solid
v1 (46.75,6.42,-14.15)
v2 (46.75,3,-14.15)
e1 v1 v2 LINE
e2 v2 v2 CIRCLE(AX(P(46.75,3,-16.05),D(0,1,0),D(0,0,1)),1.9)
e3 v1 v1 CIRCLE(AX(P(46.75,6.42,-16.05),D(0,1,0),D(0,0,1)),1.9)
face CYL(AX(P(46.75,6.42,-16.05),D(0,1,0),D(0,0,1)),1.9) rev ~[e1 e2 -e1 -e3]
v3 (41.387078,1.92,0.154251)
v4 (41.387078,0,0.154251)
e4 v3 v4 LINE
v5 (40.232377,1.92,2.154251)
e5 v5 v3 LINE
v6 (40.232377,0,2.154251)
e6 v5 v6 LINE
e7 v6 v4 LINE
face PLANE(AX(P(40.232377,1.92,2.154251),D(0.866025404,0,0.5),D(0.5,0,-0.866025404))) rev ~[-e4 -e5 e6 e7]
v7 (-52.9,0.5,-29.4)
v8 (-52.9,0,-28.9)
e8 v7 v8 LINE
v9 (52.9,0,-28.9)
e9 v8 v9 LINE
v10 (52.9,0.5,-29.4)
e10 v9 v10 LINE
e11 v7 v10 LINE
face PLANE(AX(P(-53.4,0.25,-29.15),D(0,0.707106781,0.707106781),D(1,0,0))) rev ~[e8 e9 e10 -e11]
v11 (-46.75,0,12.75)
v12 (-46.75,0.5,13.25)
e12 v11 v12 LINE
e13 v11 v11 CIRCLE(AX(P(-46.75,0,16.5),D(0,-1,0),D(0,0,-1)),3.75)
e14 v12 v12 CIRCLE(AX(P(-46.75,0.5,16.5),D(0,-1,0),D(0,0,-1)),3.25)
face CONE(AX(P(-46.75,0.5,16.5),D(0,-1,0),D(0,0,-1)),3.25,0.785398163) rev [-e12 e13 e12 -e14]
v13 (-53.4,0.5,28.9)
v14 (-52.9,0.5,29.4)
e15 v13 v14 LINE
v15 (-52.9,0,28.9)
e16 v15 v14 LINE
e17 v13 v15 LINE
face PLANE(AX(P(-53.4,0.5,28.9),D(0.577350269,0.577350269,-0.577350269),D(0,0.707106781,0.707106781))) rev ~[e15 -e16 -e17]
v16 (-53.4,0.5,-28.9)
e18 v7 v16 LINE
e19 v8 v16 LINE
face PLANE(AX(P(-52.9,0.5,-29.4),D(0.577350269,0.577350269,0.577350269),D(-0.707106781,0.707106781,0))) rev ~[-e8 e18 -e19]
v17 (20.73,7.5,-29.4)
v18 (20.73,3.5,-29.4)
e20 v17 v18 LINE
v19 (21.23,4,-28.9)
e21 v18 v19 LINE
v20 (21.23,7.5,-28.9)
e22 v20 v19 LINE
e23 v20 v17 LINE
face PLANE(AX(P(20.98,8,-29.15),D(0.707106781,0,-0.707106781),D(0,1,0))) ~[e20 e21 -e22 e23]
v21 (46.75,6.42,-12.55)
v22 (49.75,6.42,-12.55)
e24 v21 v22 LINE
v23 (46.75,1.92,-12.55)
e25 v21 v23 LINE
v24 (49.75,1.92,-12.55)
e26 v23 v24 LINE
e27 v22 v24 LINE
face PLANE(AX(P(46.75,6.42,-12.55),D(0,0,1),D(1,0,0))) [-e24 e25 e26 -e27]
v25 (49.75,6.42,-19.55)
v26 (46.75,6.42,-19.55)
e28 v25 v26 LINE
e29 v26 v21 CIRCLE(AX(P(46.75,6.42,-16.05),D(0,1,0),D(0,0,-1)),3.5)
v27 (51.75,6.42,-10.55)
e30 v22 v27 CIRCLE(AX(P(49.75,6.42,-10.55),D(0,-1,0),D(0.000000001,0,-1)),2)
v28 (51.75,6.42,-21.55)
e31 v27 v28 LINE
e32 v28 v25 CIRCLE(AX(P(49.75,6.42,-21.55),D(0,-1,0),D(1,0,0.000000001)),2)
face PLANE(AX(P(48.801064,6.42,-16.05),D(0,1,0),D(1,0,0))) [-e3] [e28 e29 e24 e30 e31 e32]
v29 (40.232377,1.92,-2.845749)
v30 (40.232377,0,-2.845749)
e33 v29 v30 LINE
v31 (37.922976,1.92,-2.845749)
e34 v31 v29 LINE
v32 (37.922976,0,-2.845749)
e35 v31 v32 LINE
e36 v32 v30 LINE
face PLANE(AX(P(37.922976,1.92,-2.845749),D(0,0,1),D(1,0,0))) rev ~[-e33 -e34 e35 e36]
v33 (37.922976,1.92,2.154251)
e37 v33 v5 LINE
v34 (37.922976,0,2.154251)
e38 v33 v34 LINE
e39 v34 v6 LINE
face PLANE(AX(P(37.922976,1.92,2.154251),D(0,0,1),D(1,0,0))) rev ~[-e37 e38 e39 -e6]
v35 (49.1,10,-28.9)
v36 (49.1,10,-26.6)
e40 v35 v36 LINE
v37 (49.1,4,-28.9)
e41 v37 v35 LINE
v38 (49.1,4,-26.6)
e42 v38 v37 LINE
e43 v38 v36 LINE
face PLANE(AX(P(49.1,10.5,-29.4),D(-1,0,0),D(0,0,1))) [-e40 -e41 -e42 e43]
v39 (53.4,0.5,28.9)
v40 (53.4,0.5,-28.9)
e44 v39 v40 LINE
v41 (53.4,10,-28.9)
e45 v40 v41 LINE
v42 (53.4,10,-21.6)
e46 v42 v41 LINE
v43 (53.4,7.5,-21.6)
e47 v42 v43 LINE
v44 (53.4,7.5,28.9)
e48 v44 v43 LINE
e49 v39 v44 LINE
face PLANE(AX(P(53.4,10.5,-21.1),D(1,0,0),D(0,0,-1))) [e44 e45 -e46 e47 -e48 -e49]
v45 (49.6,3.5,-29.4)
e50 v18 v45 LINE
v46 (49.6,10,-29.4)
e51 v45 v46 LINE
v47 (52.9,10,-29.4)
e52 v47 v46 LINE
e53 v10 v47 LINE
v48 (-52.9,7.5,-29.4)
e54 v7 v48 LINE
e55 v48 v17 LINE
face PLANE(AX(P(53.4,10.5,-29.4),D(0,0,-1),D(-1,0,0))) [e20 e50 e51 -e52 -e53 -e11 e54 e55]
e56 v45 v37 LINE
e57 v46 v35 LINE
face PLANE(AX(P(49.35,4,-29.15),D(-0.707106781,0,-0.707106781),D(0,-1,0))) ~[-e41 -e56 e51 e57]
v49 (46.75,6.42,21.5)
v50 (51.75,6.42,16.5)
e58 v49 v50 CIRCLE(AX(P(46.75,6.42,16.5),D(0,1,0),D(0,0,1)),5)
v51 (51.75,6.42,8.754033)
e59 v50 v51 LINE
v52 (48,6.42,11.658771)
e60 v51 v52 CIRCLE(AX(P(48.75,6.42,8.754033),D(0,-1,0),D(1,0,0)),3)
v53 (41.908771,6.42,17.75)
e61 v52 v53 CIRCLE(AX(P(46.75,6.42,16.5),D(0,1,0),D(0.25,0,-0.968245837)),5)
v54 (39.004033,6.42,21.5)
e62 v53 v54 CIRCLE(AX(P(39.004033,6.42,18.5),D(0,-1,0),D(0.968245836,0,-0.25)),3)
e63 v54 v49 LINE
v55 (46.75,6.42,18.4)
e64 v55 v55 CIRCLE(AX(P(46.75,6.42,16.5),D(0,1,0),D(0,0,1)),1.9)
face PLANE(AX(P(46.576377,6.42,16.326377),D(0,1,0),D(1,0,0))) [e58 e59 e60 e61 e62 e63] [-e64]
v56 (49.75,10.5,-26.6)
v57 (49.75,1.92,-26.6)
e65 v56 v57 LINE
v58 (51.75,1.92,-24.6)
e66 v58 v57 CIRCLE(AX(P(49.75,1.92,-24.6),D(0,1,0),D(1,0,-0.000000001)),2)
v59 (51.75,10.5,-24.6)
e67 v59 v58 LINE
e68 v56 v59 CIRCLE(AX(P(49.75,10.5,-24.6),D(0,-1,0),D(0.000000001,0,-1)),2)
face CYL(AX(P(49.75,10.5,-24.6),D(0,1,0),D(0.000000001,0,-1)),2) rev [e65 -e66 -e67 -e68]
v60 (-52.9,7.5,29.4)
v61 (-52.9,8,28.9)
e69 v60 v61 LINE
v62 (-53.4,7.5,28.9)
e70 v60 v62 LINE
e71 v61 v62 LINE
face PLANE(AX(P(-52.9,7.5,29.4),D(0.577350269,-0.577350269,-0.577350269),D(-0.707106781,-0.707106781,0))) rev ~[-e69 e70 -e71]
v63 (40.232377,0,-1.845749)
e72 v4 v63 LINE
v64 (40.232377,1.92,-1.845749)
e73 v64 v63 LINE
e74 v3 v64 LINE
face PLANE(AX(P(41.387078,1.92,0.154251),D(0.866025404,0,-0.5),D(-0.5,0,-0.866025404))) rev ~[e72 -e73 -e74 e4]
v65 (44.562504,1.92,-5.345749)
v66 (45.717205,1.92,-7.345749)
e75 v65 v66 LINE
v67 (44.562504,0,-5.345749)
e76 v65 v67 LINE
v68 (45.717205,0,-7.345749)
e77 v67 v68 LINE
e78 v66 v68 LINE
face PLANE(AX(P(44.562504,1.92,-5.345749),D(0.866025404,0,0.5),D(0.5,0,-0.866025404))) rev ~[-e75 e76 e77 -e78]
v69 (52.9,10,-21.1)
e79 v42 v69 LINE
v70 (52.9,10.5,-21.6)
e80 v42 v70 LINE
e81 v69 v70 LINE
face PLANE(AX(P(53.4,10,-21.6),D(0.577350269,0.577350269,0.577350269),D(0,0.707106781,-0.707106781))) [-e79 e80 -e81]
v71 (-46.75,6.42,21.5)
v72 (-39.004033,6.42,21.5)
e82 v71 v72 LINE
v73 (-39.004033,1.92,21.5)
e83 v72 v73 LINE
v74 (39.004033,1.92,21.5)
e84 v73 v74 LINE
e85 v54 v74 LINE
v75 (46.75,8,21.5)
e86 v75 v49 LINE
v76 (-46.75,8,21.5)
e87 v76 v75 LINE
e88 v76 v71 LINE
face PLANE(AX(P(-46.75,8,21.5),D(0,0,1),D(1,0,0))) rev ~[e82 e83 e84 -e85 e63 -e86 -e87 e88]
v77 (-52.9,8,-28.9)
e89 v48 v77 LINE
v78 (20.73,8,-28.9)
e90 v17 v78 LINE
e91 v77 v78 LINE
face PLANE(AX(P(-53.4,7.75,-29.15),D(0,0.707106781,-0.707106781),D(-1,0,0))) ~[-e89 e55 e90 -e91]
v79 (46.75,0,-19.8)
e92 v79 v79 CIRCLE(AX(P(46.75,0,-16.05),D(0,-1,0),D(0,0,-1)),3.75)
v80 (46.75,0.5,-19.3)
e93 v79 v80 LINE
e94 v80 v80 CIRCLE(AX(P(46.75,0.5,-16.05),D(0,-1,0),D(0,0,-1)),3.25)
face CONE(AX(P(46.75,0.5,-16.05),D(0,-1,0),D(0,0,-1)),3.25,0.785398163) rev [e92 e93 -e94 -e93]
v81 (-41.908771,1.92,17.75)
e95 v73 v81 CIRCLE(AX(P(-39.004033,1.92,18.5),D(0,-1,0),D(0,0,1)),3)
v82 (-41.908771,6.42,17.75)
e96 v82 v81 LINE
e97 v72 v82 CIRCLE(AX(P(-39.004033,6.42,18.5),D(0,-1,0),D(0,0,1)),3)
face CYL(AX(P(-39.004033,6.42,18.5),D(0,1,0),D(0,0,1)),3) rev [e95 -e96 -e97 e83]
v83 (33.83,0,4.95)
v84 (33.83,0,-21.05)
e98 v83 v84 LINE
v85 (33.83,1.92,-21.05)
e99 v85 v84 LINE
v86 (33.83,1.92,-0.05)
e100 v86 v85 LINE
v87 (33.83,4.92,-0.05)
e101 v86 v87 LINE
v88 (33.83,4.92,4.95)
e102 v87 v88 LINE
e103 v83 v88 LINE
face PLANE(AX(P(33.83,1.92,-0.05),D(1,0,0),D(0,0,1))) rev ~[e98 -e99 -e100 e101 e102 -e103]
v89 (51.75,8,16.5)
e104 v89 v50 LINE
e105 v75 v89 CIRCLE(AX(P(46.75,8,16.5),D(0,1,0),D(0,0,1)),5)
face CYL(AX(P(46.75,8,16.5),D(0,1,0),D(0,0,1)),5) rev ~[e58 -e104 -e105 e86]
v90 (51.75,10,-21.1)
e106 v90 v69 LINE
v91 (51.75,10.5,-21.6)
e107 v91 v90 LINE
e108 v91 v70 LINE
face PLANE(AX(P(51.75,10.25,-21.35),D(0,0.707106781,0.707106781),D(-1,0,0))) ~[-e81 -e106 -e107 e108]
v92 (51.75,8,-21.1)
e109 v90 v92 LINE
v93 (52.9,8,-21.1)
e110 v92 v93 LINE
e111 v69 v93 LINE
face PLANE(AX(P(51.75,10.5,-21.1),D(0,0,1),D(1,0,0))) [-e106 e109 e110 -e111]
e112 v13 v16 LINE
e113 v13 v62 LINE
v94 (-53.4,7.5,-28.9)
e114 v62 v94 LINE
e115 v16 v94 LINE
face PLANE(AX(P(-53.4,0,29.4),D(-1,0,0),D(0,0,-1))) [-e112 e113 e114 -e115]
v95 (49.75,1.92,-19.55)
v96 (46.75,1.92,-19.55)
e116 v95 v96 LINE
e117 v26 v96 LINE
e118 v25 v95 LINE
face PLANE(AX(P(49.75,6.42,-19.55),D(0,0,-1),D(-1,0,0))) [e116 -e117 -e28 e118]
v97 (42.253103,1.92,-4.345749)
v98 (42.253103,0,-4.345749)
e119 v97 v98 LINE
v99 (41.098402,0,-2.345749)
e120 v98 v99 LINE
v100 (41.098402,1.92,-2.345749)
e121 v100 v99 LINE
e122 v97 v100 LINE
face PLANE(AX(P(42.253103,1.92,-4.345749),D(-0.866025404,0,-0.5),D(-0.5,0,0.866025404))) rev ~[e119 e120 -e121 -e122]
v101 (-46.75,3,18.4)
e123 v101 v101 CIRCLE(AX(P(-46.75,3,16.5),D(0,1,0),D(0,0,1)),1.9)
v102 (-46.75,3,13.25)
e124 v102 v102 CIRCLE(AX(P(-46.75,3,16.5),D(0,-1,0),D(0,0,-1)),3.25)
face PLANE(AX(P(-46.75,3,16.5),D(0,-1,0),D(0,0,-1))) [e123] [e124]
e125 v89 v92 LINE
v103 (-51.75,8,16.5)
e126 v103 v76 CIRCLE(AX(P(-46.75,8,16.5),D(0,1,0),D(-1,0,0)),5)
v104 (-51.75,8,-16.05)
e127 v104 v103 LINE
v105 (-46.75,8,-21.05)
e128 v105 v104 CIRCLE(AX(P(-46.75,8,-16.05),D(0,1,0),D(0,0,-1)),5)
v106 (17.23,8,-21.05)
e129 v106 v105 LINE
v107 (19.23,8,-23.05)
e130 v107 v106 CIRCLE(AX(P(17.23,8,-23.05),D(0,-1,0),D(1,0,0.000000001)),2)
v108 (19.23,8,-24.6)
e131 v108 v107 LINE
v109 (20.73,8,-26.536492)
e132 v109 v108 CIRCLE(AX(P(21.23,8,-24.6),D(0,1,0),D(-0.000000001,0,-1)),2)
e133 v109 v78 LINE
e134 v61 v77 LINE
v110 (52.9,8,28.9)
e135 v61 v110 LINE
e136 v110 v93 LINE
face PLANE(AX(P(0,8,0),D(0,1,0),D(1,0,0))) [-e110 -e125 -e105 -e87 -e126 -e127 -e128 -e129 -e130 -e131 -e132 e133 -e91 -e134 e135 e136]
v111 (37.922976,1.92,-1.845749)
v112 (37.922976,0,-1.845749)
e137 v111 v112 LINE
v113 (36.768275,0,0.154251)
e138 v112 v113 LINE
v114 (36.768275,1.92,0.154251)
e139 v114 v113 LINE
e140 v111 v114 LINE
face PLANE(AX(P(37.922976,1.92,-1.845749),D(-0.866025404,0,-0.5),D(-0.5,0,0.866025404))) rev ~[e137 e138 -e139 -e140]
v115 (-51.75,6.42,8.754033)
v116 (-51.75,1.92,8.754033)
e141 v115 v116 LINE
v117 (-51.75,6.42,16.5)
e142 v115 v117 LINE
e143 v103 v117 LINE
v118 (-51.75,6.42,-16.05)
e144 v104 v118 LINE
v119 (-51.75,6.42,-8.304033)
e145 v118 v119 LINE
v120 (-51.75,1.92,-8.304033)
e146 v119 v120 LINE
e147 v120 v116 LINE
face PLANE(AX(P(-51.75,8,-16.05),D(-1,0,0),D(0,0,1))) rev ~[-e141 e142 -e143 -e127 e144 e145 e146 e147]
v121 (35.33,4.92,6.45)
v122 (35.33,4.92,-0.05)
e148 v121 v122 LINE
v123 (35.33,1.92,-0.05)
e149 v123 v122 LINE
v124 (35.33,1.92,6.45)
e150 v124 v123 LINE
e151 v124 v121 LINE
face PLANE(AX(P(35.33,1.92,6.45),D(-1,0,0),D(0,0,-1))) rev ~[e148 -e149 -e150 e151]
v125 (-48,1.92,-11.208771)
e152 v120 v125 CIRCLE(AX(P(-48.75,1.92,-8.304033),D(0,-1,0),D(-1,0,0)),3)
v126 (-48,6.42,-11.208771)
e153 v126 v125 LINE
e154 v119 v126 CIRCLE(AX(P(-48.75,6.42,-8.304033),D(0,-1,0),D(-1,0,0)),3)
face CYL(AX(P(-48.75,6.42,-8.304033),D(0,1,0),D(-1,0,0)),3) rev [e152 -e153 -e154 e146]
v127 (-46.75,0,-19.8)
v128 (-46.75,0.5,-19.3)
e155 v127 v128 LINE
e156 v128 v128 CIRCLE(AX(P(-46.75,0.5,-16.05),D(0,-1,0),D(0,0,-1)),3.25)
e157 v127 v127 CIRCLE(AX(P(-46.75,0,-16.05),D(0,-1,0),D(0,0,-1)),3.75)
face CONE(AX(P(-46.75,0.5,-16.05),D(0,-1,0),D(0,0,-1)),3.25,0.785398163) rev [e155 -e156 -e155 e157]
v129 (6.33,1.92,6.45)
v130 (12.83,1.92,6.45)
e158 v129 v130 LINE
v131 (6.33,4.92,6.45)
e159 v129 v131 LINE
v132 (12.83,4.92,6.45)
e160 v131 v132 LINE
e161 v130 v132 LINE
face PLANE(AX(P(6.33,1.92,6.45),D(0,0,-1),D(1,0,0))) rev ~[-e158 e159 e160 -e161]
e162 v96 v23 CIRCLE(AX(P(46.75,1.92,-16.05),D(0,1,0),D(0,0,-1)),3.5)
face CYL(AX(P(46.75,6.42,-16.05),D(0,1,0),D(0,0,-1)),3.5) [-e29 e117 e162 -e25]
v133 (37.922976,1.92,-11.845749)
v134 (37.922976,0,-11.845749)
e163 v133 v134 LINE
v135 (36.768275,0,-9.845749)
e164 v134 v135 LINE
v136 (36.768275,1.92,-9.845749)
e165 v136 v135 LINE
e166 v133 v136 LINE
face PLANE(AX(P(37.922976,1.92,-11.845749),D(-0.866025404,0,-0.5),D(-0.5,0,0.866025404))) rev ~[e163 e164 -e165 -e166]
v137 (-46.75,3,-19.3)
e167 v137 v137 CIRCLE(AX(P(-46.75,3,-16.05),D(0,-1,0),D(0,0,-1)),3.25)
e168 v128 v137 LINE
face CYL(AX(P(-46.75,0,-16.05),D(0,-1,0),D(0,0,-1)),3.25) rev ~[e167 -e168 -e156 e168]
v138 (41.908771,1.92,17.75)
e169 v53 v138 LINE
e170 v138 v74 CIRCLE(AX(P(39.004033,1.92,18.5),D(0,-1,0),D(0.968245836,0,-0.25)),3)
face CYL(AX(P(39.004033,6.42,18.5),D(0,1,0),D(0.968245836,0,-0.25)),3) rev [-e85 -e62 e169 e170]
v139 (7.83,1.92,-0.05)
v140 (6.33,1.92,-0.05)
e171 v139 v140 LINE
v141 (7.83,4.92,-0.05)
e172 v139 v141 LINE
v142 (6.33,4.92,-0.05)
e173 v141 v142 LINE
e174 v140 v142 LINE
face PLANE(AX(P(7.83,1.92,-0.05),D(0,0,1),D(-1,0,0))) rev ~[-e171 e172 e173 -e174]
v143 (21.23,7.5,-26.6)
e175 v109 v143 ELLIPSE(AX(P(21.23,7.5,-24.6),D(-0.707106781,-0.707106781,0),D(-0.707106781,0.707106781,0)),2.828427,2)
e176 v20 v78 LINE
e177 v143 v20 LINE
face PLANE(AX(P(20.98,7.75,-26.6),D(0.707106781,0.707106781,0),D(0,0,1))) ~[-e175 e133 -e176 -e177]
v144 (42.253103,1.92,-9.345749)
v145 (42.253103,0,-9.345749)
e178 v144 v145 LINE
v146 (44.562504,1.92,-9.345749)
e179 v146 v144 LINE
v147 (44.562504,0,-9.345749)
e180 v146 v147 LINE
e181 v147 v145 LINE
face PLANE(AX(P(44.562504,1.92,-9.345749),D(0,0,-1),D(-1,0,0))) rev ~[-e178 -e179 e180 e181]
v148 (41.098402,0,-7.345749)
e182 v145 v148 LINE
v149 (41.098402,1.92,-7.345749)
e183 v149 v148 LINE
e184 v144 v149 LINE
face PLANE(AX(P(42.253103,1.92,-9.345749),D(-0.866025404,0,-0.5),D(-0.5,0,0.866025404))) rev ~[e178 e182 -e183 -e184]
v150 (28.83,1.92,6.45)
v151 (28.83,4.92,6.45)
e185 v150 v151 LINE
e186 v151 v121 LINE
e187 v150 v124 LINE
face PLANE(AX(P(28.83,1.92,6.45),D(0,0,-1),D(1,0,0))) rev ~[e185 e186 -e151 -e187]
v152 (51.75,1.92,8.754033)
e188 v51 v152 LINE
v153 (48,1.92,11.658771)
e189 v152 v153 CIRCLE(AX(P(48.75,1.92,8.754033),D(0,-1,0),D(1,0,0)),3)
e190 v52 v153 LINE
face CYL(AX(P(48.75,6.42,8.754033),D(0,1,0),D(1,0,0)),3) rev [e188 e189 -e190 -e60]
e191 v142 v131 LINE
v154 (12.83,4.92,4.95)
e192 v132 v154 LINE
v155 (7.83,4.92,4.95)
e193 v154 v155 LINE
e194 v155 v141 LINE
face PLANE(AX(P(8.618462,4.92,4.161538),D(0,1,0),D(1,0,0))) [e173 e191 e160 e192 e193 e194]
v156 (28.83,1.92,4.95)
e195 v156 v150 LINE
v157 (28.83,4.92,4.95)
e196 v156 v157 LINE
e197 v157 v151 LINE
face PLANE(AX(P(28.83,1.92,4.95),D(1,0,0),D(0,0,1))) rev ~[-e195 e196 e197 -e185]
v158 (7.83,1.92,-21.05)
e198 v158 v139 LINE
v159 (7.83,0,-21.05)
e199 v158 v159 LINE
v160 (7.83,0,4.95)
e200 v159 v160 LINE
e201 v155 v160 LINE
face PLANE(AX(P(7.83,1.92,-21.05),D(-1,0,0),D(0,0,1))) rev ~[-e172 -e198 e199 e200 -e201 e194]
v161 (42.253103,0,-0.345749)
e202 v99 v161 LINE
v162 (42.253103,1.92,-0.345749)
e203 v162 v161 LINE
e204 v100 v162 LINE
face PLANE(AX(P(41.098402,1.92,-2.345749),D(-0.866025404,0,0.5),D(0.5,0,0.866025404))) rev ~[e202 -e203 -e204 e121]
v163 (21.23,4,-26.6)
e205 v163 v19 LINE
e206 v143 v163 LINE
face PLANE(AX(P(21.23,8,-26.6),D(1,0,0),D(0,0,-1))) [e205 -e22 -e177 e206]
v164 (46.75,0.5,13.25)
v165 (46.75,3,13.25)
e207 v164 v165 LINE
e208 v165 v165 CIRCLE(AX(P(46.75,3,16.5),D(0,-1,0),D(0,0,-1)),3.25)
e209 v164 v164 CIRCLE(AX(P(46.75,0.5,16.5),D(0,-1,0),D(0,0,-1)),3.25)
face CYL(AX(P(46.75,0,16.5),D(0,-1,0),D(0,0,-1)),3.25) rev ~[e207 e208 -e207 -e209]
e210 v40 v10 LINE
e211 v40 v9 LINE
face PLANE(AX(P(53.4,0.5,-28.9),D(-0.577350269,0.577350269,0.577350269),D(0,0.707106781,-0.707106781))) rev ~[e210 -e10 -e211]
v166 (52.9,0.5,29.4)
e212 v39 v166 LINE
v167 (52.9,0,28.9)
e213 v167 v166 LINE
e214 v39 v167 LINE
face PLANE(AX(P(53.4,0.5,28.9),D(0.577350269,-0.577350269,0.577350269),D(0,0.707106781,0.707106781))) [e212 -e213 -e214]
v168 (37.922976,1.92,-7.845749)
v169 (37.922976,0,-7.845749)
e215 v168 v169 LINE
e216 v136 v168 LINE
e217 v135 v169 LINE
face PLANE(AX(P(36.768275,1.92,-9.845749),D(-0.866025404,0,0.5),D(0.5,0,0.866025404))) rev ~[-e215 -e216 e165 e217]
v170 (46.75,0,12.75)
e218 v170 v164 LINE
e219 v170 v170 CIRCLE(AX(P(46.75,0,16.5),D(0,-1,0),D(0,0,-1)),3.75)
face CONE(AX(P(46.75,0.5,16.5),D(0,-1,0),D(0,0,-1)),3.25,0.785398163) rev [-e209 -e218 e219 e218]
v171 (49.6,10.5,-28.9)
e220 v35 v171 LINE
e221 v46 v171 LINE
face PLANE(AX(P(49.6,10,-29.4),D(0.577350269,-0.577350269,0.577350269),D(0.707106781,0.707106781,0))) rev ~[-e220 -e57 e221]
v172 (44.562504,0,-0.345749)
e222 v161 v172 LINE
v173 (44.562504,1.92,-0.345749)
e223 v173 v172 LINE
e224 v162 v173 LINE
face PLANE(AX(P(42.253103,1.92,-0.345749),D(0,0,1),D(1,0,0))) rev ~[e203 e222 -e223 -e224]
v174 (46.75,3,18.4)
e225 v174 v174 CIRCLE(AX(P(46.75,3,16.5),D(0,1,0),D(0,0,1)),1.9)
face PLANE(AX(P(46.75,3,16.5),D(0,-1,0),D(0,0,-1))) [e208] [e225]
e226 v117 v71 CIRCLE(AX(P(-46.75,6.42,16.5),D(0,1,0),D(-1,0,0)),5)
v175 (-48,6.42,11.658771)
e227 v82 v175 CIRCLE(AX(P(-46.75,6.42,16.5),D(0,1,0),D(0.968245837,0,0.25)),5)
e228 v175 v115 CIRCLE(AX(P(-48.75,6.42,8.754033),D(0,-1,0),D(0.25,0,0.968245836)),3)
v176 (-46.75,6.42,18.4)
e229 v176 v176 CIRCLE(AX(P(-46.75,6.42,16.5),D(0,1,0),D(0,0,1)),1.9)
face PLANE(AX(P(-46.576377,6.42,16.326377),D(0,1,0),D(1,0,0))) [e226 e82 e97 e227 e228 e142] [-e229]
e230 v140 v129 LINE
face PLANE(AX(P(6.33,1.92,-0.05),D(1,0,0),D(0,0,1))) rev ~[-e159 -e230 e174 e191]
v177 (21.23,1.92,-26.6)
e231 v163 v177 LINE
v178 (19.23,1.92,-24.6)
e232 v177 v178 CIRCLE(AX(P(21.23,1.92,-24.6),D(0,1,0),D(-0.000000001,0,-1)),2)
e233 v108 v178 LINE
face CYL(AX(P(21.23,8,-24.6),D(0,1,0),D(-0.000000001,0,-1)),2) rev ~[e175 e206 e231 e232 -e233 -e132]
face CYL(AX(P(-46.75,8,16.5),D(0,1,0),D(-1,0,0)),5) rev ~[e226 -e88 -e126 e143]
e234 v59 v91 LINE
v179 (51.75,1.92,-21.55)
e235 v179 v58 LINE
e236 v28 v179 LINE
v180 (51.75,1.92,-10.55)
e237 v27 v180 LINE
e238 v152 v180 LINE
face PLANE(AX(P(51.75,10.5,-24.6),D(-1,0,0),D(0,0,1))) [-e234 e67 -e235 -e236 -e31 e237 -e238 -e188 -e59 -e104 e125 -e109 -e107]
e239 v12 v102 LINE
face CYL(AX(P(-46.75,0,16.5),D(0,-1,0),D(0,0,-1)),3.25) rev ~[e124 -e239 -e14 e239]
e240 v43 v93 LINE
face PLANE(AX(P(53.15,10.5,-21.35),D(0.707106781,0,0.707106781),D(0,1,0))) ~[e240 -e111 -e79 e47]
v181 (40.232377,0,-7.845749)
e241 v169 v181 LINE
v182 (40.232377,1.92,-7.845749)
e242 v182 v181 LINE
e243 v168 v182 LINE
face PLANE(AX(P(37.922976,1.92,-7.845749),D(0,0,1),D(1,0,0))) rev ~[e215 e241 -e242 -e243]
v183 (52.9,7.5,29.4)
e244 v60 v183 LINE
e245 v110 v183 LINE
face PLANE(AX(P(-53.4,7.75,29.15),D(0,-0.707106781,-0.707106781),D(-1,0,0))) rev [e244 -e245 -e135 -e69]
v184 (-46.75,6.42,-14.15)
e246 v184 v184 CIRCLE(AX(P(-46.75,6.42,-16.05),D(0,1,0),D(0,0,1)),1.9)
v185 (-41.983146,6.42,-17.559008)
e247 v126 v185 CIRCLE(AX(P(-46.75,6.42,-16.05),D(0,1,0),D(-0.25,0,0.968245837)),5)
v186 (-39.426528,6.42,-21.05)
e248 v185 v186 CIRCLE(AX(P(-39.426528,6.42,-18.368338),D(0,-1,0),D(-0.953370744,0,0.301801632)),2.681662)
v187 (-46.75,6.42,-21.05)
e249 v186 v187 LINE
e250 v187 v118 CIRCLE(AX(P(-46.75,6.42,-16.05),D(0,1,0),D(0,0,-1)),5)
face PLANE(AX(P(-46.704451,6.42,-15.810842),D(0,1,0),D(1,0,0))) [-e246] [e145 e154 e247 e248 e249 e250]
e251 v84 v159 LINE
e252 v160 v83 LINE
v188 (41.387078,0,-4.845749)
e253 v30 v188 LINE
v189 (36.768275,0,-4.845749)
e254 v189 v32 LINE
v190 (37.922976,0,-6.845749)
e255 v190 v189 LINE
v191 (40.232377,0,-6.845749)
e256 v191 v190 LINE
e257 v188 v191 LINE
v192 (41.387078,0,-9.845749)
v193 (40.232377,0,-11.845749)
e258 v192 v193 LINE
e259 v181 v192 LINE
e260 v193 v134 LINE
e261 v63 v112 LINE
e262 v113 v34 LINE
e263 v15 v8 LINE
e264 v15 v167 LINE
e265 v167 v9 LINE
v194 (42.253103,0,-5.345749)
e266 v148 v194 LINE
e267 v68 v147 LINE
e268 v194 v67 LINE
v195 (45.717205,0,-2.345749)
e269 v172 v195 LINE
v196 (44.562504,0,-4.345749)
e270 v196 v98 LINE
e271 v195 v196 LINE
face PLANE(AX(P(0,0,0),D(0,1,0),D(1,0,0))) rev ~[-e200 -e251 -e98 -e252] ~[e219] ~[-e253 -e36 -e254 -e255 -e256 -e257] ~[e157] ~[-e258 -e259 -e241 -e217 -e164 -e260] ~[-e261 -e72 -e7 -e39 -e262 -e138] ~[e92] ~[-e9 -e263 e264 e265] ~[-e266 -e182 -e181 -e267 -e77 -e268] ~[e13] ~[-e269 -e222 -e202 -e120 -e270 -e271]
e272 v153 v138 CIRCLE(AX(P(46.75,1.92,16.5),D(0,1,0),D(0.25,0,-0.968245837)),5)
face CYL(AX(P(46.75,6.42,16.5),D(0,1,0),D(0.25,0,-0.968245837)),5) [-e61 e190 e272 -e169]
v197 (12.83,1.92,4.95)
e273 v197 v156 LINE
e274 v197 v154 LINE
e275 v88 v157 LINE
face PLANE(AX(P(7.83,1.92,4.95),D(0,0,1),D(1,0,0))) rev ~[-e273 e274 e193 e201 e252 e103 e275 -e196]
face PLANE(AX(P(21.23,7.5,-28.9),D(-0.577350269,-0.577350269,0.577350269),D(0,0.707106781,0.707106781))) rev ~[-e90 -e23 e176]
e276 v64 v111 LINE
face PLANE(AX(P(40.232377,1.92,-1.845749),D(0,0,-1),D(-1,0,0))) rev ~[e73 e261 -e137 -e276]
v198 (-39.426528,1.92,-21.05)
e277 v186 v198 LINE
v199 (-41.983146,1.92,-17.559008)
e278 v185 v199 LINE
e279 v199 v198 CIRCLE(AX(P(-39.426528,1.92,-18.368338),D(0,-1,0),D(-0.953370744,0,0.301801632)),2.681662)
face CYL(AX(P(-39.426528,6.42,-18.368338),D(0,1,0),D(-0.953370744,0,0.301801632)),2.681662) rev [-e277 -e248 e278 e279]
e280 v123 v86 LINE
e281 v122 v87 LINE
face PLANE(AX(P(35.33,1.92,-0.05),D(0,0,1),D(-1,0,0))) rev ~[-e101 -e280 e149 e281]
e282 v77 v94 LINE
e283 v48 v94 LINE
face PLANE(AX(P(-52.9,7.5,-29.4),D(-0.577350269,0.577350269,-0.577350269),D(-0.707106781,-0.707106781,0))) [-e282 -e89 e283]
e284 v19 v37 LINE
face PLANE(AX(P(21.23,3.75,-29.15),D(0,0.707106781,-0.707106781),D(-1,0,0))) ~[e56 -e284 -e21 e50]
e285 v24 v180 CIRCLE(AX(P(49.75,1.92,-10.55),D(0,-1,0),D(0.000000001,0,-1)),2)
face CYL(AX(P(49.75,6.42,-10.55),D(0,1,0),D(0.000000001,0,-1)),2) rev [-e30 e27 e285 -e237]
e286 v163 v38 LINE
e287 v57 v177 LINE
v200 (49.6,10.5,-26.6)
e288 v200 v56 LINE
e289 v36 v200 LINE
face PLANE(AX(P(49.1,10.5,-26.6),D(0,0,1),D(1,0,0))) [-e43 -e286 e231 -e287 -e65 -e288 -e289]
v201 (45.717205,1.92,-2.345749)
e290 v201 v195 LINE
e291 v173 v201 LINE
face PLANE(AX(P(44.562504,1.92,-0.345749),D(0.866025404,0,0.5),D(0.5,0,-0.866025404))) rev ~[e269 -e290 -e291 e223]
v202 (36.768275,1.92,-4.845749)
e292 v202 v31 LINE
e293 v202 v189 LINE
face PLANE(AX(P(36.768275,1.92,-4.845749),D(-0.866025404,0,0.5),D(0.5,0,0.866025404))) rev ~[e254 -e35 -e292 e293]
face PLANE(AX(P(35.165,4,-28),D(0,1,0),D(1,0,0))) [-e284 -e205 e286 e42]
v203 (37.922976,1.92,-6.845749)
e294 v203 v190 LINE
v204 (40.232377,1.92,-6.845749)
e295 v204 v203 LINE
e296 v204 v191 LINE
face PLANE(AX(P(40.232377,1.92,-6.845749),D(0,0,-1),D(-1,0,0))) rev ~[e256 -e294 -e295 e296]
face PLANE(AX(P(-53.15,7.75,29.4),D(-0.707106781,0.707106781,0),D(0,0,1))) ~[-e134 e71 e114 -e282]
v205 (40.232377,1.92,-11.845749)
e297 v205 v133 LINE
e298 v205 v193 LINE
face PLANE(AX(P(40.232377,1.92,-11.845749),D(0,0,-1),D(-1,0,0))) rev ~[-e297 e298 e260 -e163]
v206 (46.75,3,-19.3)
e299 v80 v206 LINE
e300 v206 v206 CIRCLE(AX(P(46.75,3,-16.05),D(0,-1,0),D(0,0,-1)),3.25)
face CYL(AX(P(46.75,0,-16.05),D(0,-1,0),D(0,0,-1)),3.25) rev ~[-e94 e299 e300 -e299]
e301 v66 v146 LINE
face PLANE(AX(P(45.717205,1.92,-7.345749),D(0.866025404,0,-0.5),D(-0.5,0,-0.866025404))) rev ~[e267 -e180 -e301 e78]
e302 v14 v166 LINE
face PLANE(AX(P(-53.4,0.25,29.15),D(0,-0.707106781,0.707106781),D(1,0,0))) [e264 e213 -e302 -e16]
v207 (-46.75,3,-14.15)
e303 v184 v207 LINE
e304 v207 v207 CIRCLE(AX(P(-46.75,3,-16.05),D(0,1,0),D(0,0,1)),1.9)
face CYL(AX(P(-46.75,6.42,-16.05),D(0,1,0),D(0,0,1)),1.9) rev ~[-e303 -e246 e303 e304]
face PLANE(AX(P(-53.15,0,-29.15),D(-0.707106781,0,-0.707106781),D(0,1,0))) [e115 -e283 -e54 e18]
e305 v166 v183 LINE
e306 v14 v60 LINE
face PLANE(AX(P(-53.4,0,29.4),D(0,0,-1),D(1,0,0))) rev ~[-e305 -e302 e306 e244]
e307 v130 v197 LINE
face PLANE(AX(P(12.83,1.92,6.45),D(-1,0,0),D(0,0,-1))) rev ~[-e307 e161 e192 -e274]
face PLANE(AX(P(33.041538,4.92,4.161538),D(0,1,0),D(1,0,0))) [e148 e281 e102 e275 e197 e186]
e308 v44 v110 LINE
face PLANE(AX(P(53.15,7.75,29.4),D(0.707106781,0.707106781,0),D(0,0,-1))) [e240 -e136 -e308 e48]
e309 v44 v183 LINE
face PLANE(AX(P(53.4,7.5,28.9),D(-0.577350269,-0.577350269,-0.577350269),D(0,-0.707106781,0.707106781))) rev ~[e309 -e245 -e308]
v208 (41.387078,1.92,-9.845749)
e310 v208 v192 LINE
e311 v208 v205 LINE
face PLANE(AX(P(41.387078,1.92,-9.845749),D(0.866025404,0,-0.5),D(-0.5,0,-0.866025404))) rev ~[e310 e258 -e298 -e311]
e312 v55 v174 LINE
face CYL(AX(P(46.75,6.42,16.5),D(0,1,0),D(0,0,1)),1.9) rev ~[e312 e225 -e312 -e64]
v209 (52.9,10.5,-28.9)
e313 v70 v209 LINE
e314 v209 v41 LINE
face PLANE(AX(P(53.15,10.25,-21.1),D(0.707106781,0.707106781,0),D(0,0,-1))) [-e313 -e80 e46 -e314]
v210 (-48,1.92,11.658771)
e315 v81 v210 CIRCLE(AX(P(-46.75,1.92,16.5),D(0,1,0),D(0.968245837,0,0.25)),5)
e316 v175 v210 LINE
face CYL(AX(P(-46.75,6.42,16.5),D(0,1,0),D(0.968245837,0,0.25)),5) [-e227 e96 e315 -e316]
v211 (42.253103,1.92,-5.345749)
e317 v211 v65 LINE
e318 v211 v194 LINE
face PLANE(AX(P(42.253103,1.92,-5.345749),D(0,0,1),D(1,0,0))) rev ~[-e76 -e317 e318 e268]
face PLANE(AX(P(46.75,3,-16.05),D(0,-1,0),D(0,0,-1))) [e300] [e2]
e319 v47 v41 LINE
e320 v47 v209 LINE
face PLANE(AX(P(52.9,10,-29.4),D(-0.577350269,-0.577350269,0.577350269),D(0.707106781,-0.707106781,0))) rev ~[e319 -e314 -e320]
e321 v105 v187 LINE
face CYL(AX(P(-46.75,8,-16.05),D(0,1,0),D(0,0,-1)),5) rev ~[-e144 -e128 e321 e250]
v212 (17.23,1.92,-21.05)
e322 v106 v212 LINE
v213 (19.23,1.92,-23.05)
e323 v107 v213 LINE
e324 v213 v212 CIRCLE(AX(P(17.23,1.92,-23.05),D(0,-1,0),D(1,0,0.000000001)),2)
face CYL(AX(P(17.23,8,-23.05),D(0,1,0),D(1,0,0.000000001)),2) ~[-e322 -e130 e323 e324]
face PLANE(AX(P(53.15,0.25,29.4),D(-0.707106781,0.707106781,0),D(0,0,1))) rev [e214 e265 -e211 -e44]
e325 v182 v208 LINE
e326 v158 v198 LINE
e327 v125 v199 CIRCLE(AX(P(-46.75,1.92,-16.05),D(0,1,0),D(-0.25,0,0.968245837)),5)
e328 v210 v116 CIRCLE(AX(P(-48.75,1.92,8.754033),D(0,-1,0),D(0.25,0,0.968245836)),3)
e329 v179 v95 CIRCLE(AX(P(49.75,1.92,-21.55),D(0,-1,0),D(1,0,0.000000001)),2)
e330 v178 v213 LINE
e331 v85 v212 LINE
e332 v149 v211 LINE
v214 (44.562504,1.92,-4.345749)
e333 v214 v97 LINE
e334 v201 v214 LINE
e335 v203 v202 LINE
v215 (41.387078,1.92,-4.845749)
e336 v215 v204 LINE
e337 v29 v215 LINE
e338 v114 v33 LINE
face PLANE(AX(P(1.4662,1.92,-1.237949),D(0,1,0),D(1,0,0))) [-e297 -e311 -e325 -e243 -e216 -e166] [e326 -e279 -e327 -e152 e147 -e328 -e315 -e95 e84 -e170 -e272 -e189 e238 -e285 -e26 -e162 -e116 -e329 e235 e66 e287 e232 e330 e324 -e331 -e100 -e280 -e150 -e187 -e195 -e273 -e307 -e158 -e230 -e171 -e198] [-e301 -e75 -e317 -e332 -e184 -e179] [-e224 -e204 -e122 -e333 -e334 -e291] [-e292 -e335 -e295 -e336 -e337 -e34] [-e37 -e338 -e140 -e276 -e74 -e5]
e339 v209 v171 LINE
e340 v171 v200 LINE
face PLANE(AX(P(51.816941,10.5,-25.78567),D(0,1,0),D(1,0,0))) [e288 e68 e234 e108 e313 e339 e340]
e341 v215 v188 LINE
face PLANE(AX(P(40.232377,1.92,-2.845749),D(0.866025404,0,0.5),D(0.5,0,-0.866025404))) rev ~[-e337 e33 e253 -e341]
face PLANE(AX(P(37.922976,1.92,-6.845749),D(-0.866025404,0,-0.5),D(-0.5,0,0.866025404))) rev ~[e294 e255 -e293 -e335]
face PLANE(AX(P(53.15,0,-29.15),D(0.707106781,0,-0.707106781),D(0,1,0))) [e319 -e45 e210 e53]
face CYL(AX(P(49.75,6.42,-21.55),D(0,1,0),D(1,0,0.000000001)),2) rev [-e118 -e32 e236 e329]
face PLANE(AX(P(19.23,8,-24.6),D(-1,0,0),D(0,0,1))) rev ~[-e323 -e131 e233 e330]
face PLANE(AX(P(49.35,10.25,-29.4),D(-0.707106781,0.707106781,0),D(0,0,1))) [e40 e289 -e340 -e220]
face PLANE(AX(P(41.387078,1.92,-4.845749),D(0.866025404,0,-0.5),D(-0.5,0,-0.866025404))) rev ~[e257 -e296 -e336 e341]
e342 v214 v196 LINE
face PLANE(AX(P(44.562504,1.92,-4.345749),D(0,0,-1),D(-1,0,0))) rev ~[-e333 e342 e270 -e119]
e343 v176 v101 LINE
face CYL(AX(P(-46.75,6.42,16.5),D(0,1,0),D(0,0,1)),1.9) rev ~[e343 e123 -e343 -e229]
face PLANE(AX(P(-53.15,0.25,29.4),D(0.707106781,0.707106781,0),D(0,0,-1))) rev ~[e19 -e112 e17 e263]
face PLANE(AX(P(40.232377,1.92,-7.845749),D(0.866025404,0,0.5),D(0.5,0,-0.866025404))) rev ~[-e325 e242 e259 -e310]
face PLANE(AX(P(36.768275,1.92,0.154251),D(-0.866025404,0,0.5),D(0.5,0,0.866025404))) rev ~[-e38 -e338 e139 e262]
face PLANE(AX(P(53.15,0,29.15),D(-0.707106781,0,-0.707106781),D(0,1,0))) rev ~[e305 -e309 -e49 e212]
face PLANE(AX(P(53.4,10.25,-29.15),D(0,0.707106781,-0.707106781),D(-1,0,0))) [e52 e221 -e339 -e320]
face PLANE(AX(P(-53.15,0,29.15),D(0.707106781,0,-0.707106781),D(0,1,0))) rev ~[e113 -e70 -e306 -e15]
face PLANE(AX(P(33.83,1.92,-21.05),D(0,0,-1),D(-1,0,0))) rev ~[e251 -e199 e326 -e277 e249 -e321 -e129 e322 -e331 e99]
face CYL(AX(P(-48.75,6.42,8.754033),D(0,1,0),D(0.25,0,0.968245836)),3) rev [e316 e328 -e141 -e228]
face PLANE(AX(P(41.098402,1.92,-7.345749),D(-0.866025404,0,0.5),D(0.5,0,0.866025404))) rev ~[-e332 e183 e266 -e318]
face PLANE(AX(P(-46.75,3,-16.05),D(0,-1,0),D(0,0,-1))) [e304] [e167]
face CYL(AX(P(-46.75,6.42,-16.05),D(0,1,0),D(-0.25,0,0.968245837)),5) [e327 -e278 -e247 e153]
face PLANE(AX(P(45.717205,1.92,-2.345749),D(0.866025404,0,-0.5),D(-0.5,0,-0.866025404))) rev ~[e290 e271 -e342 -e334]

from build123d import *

# Parameters (mm, degrees)
SKETCH_1_W          = 106.8
SKETCH_1_H          = 58.8
EXTRUDE_1_DEPTH     = 8
CUT_EXTRUDE_1_DEPTH = 6.08
EXTRUDE_START       = 2.5
EXTRUDE_2_DEPTH     = 2.5
SKETCH_4_W          = 27.87
SKETCH_4_H          = 2.8
CUT_EXTRUDE_2_DEPTH = 4
EXTRUDE_START_2     = 4.5
EXTRUDE_3_DEPTH     = 4.5
SKETCH_6_R          = 1.9
CUT_EXTRUDE_3_DEPTH = 38.5
SKETCH_7_R          = 3.25
CUT_EXTRUDE_4_DEPTH = 3
CHAMFER_7_SIZE      = 0.5
CUT_EXTRUDE_5_DEPTH = 3
CHAMFER_6_SIZE      = 0.5
EXTRUDE_4_DEPTH     = 3
CUT_EXTRUDE_6_DEPTH = 3


with BuildPart() as part:
    # 草图1 → 凸台-拉伸1 (new body)
    with BuildSketch(Plane(origin=(0, 0, 0), x_dir=(1, 0, 0), z_dir=(0, 1, 0))):
        Rectangle(SKETCH_1_W, SKETCH_1_H)
    extrude(amount=EXTRUDE_1_DEPTH)

    # 草图2 → 切除-拉伸1 (cut)
    with BuildSketch(Plane(origin=(0, 8, 0), x_dir=(1, 0, 0), z_dir=(0, 1, 0))):
        with BuildLine():
            Line((-46.75, -21.5), (46.75, -21.5))
            ThreePointArc((46.75, -21.5), (50.285533906, -20.035533906), (51.75, -16.5))
            Line((51.75, -16.5), (51.75, 24.6))
            ThreePointArc((51.75, 24.6), (51.164213562, 26.014213562), (49.75, 26.6))
            Line((49.75, 26.6), (21.23, 26.6))
            ThreePointArc((21.23, 26.6), (19.815786438, 26.014213562), (19.23, 24.6))
            Line((19.23, 24.6), (19.23, 23.05))
            ThreePointArc((19.23, 23.05), (18.644213562, 21.635786438), (17.23, 21.05))
            Line((17.23, 21.05), (-46.75, 21.05))
            ThreePointArc((-46.75, 21.05), (-50.285533906, 19.585533906), (-51.75, 16.05))
            Line((-51.75, 16.05), (-51.75, -16.5))
            ThreePointArc((-51.75, -16.5), (-50.285533906, -20.035533906), (-46.75, -21.5))
        make_face()
    extrude(amount=-CUT_EXTRUDE_1_DEPTH, mode=Mode.SUBTRACT)

    # 草图3 → 凸台-拉伸2 (add)
    with BuildSketch(Plane(origin=(0, 8, 0), x_dir=(1, 0, 0), z_dir=(0, 1, 0)).offset(EXTRUDE_START)):
        with BuildLine():
            Line((51.75, 21.1), (53.4, 21.1))
            Line((53.4, 21.1), (53.4, 29.4))
            Line((53.4, 29.4), (49.1, 29.4))
            Line((49.1, 29.4), (49.1, 26.6))
            Line((49.1, 26.6), (49.75, 26.6))
            ThreePointArc((49.75, 26.6), (51.164213562, 26.014213562), (51.75, 24.6))
            Line((51.75, 24.6), (51.75, 21.1))
        make_face()
    extrude(amount=-EXTRUDE_2_DEPTH)

    # 草图4 → 切除-拉伸2 (cut)
    with BuildSketch(Plane(origin=(0, 8, 0), x_dir=(1, 0, 0), z_dir=(0, 1, 0))):
        with Locations((35.165, 28)):
            Rectangle(SKETCH_4_W, SKETCH_4_H)
    extrude(amount=-CUT_EXTRUDE_2_DEPTH, mode=Mode.SUBTRACT)

    # 草图5 → 凸台-拉伸3 (add)
    with BuildSketch(Plane(origin=(0, 1.92, 0), x_dir=(1, 0, 0), z_dir=(0, 1, 0)).offset(EXTRUDE_START_2)):
        with BuildLine():
            Line((49.75, 19.55), (46.75, 19.55))
            ThreePointArc((46.75, 19.55), (43.25, 16.05), (46.75, 12.55))
            Line((46.75, 12.55), (49.75, 12.55))
            ThreePointArc((49.75, 12.55), (51.164213562, 11.964213562), (51.75, 10.55))
            Line((51.75, 10.55), (51.75, 21.55))
            ThreePointArc((51.75, 21.55), (51.164213562, 20.135786438), (49.75, 19.55))
        make_face()
        with BuildLine():
            Line((51.75, -16.5), (51.75, -8.754033308))
            ThreePointArc((51.75, -8.754033308), (50.587117307, -11.125741553), (48, -11.658770817))
            ThreePointArc((48, -11.658770817), (43.214466094, -12.964466094), (41.908770817, -17.75))
            ThreePointArc((41.908770817, -17.75), (41.375741553, -20.337117307), (39.004033308, -21.5))
            Line((39.004033308, -21.5), (46.75, -21.5))
            ThreePointArc((46.75, -21.5), (50.285533906, -20.035533906), (51.75, -16.5))
        make_face()
        with BuildLine():
            Line((-46.75, -21.5), (-39.004033308, -21.5))
            ThreePointArc((-39.004033308, -21.5), (-41.375741553, -20.337117307), (-41.908770817, -17.75))
            ThreePointArc((-41.908770817, -17.75), (-43.214466094, -12.964466094), (-48, -11.658770817))
            ThreePointArc((-48, -11.658770817), (-50.587117307, -11.125741553), (-51.75, -8.754033308))
            Line((-51.75, -8.754033308), (-51.75, -16.5))
            ThreePointArc((-51.75, -16.5), (-50.285533906, -20.035533906), (-46.75, -21.5))
        make_face()
        with BuildLine():
            ThreePointArc((-41.983146282, 17.55900816), (-41.590050849, 19.952787734), (-39.42652828, 21.05))
            Line((-39.42652828, 21.05), (-46.75, 21.05))
            ThreePointArc((-46.75, 21.05), (-50.285533906, 19.585533906), (-51.75, 16.05))
            Line((-51.75, 16.05), (-51.75, 8.304033308))
            ThreePointArc((-51.75, 8.304033308), (-50.587117307, 10.675741553), (-48, 11.208770817))
            ThreePointArc((-48, 11.208770817), (-43.12047612, 12.611023931), (-41.983146282, 17.55900816))
        make_face()
    extrude(amount=-EXTRUDE_3_DEPTH)

    # 草图6 → 切除-拉伸3 (cut)
    with BuildSketch(Plane(origin=(0, 6.42, 0), x_dir=(1, 0, 0), z_dir=(0, 1, 0))):
        with Locations((-46.75, 16.05)):
            Circle(SKETCH_6_R)
        with Locations((-46.75, -16.5)):
            Circle(SKETCH_6_R)
        with Locations((46.75, -16.5)):
            Circle(SKETCH_6_R)
        with Locations((46.75, 16.05)):
            Circle(SKETCH_6_R)
    extrude(amount=-CUT_EXTRUDE_3_DEPTH, mode=Mode.SUBTRACT)

    # 草图7 → 切除-拉伸4 (cut)
    with BuildSketch(Plane.XZ):
        with Locations((-46.75, 16.5)):
            Circle(SKETCH_7_R)
        with Locations((46.75, 16.5)):
            Circle(SKETCH_7_R)
        with Locations((46.75, -16.05)):
            Circle(SKETCH_7_R)
        with Locations((-46.75, -16.05)):
            Circle(SKETCH_7_R)
    extrude(amount=-CUT_EXTRUDE_4_DEPTH, mode=Mode.SUBTRACT)

    # 倒角7
    chamfer_7_edges = [part.edges().sort_by_distance(p)[0] for p in [
        (-50, 0, -16.05),
        (-50, 0, 16.5),
        (43.5, 0, -16.05),
        (43.5, 0, 16.5),
    ]]
    chamfer(chamfer_7_edges, length=CHAMFER_7_SIZE)

    # 草图8 → 切除-拉伸5 (cut)
    with BuildSketch(Plane(origin=(0, 1.92, 0), x_dir=(1, 0, 0), z_dir=(0, 1, 0))):
        Polygon((17.23, 21.05), (7.83, 21.05), (7.83, -4.95), (33.83, -4.95), (33.83, 21.05), align=None)
    extrude(amount=-CUT_EXTRUDE_5_DEPTH, mode=Mode.SUBTRACT)

    # 倒角6
    chamfer_6_edges = [part.edges().sort_by_distance(p)[0] for p in [
        (53.4, 4, 29.4),
        (53.4, 8, 4.15),
        (53.4, 9.25, -21.1),
        (52.575, 10.5, -21.1),
        (49.1, 10.5, -28),
        (21.23, 8, -28),
        (21.23, 6, -29.4),
        (35.165, 4, -29.4),
        (49.1, 7.25, -29.4),
        (51.25, 10.5, -29.4),
        (53.4, 10.5, -25.25),
        (-16.085, 8, -29.4),
        (-53.4, 8, 0),
        (0, 8, 29.4),
        (-53.4, 4, 29.4),
        (0, 0, 29.4),
        (-53.4, 0, 0),
        (-53.4, 4, -29.4),
        (53.4, 0, 0),
        (53.4, 5.25, -29.4),
        (0, 0, -29.4),
    ]]
    chamfer(chamfer_6_edges, length=CHAMFER_6_SIZE)

    # 草图11 → 凸台-拉伸4 (add)
    with BuildSketch(Plane(origin=(0, 1.92, 0), x_dir=(1, 0, 0), z_dir=(0, 1, 0))):
        Polygon((35.33, -6.45), (35.33, 0.05), (33.83, 0.05), (33.83, -4.95), (28.83, -4.95), (28.83, -6.45), align=None)
        Polygon((6.33, 0.05), (6.33, -6.45), (12.83, -6.45), (12.83, -4.95), (7.83, -4.95), (7.83, 0.05), align=None)
    extrude(amount=EXTRUDE_4_DEPTH)

    # 草图12 → 切除-拉伸6 (cut)
    with BuildSketch(Plane(origin=(0, 1.92, 0), x_dir=(1, 0, 0), z_dir=(0, 1, 0))):
        Polygon((36.768275427, 9.845748795), (37.922975965, 7.845748795), (40.232377042, 7.845748795), (41.38707758, 9.845748795), (40.232377042, 11.845748795), (37.922975965, 11.845748795), align=None)
        Polygon((41.098402446, 7.345748795), (42.253102984, 5.345748795), (44.562504061, 5.345748795), (45.717204599, 7.345748795), (44.562504061, 9.345748795), (42.253102984, 9.345748795), align=None)
        Polygon((42.253102984, 4.345748795), (41.098402446, 2.345748795), (42.253102984, 0.345748795), (44.562504061, 0.345748795), (45.717204599, 2.345748795), (44.562504061, 4.345748795), align=None)
        Polygon((37.922975965, 2.845748795), (40.232377042, 2.845748795), (41.38707758, 4.845748795), (40.232377042, 6.845748795), (37.922975965, 6.845748795), (36.768275427, 4.845748795), align=None)
        Polygon((41.38707758, -0.154251205), (40.232377042, 1.845748795), (37.922975965, 1.845748795), (36.768275427, -0.154251205), (37.922975965, -2.154251205), (40.232377042, -2.154251205), align=None)
    extrude(amount=-CUT_EXTRUDE_6_DEPTH, mode=Mode.SUBTRACT)


solid = part.part
